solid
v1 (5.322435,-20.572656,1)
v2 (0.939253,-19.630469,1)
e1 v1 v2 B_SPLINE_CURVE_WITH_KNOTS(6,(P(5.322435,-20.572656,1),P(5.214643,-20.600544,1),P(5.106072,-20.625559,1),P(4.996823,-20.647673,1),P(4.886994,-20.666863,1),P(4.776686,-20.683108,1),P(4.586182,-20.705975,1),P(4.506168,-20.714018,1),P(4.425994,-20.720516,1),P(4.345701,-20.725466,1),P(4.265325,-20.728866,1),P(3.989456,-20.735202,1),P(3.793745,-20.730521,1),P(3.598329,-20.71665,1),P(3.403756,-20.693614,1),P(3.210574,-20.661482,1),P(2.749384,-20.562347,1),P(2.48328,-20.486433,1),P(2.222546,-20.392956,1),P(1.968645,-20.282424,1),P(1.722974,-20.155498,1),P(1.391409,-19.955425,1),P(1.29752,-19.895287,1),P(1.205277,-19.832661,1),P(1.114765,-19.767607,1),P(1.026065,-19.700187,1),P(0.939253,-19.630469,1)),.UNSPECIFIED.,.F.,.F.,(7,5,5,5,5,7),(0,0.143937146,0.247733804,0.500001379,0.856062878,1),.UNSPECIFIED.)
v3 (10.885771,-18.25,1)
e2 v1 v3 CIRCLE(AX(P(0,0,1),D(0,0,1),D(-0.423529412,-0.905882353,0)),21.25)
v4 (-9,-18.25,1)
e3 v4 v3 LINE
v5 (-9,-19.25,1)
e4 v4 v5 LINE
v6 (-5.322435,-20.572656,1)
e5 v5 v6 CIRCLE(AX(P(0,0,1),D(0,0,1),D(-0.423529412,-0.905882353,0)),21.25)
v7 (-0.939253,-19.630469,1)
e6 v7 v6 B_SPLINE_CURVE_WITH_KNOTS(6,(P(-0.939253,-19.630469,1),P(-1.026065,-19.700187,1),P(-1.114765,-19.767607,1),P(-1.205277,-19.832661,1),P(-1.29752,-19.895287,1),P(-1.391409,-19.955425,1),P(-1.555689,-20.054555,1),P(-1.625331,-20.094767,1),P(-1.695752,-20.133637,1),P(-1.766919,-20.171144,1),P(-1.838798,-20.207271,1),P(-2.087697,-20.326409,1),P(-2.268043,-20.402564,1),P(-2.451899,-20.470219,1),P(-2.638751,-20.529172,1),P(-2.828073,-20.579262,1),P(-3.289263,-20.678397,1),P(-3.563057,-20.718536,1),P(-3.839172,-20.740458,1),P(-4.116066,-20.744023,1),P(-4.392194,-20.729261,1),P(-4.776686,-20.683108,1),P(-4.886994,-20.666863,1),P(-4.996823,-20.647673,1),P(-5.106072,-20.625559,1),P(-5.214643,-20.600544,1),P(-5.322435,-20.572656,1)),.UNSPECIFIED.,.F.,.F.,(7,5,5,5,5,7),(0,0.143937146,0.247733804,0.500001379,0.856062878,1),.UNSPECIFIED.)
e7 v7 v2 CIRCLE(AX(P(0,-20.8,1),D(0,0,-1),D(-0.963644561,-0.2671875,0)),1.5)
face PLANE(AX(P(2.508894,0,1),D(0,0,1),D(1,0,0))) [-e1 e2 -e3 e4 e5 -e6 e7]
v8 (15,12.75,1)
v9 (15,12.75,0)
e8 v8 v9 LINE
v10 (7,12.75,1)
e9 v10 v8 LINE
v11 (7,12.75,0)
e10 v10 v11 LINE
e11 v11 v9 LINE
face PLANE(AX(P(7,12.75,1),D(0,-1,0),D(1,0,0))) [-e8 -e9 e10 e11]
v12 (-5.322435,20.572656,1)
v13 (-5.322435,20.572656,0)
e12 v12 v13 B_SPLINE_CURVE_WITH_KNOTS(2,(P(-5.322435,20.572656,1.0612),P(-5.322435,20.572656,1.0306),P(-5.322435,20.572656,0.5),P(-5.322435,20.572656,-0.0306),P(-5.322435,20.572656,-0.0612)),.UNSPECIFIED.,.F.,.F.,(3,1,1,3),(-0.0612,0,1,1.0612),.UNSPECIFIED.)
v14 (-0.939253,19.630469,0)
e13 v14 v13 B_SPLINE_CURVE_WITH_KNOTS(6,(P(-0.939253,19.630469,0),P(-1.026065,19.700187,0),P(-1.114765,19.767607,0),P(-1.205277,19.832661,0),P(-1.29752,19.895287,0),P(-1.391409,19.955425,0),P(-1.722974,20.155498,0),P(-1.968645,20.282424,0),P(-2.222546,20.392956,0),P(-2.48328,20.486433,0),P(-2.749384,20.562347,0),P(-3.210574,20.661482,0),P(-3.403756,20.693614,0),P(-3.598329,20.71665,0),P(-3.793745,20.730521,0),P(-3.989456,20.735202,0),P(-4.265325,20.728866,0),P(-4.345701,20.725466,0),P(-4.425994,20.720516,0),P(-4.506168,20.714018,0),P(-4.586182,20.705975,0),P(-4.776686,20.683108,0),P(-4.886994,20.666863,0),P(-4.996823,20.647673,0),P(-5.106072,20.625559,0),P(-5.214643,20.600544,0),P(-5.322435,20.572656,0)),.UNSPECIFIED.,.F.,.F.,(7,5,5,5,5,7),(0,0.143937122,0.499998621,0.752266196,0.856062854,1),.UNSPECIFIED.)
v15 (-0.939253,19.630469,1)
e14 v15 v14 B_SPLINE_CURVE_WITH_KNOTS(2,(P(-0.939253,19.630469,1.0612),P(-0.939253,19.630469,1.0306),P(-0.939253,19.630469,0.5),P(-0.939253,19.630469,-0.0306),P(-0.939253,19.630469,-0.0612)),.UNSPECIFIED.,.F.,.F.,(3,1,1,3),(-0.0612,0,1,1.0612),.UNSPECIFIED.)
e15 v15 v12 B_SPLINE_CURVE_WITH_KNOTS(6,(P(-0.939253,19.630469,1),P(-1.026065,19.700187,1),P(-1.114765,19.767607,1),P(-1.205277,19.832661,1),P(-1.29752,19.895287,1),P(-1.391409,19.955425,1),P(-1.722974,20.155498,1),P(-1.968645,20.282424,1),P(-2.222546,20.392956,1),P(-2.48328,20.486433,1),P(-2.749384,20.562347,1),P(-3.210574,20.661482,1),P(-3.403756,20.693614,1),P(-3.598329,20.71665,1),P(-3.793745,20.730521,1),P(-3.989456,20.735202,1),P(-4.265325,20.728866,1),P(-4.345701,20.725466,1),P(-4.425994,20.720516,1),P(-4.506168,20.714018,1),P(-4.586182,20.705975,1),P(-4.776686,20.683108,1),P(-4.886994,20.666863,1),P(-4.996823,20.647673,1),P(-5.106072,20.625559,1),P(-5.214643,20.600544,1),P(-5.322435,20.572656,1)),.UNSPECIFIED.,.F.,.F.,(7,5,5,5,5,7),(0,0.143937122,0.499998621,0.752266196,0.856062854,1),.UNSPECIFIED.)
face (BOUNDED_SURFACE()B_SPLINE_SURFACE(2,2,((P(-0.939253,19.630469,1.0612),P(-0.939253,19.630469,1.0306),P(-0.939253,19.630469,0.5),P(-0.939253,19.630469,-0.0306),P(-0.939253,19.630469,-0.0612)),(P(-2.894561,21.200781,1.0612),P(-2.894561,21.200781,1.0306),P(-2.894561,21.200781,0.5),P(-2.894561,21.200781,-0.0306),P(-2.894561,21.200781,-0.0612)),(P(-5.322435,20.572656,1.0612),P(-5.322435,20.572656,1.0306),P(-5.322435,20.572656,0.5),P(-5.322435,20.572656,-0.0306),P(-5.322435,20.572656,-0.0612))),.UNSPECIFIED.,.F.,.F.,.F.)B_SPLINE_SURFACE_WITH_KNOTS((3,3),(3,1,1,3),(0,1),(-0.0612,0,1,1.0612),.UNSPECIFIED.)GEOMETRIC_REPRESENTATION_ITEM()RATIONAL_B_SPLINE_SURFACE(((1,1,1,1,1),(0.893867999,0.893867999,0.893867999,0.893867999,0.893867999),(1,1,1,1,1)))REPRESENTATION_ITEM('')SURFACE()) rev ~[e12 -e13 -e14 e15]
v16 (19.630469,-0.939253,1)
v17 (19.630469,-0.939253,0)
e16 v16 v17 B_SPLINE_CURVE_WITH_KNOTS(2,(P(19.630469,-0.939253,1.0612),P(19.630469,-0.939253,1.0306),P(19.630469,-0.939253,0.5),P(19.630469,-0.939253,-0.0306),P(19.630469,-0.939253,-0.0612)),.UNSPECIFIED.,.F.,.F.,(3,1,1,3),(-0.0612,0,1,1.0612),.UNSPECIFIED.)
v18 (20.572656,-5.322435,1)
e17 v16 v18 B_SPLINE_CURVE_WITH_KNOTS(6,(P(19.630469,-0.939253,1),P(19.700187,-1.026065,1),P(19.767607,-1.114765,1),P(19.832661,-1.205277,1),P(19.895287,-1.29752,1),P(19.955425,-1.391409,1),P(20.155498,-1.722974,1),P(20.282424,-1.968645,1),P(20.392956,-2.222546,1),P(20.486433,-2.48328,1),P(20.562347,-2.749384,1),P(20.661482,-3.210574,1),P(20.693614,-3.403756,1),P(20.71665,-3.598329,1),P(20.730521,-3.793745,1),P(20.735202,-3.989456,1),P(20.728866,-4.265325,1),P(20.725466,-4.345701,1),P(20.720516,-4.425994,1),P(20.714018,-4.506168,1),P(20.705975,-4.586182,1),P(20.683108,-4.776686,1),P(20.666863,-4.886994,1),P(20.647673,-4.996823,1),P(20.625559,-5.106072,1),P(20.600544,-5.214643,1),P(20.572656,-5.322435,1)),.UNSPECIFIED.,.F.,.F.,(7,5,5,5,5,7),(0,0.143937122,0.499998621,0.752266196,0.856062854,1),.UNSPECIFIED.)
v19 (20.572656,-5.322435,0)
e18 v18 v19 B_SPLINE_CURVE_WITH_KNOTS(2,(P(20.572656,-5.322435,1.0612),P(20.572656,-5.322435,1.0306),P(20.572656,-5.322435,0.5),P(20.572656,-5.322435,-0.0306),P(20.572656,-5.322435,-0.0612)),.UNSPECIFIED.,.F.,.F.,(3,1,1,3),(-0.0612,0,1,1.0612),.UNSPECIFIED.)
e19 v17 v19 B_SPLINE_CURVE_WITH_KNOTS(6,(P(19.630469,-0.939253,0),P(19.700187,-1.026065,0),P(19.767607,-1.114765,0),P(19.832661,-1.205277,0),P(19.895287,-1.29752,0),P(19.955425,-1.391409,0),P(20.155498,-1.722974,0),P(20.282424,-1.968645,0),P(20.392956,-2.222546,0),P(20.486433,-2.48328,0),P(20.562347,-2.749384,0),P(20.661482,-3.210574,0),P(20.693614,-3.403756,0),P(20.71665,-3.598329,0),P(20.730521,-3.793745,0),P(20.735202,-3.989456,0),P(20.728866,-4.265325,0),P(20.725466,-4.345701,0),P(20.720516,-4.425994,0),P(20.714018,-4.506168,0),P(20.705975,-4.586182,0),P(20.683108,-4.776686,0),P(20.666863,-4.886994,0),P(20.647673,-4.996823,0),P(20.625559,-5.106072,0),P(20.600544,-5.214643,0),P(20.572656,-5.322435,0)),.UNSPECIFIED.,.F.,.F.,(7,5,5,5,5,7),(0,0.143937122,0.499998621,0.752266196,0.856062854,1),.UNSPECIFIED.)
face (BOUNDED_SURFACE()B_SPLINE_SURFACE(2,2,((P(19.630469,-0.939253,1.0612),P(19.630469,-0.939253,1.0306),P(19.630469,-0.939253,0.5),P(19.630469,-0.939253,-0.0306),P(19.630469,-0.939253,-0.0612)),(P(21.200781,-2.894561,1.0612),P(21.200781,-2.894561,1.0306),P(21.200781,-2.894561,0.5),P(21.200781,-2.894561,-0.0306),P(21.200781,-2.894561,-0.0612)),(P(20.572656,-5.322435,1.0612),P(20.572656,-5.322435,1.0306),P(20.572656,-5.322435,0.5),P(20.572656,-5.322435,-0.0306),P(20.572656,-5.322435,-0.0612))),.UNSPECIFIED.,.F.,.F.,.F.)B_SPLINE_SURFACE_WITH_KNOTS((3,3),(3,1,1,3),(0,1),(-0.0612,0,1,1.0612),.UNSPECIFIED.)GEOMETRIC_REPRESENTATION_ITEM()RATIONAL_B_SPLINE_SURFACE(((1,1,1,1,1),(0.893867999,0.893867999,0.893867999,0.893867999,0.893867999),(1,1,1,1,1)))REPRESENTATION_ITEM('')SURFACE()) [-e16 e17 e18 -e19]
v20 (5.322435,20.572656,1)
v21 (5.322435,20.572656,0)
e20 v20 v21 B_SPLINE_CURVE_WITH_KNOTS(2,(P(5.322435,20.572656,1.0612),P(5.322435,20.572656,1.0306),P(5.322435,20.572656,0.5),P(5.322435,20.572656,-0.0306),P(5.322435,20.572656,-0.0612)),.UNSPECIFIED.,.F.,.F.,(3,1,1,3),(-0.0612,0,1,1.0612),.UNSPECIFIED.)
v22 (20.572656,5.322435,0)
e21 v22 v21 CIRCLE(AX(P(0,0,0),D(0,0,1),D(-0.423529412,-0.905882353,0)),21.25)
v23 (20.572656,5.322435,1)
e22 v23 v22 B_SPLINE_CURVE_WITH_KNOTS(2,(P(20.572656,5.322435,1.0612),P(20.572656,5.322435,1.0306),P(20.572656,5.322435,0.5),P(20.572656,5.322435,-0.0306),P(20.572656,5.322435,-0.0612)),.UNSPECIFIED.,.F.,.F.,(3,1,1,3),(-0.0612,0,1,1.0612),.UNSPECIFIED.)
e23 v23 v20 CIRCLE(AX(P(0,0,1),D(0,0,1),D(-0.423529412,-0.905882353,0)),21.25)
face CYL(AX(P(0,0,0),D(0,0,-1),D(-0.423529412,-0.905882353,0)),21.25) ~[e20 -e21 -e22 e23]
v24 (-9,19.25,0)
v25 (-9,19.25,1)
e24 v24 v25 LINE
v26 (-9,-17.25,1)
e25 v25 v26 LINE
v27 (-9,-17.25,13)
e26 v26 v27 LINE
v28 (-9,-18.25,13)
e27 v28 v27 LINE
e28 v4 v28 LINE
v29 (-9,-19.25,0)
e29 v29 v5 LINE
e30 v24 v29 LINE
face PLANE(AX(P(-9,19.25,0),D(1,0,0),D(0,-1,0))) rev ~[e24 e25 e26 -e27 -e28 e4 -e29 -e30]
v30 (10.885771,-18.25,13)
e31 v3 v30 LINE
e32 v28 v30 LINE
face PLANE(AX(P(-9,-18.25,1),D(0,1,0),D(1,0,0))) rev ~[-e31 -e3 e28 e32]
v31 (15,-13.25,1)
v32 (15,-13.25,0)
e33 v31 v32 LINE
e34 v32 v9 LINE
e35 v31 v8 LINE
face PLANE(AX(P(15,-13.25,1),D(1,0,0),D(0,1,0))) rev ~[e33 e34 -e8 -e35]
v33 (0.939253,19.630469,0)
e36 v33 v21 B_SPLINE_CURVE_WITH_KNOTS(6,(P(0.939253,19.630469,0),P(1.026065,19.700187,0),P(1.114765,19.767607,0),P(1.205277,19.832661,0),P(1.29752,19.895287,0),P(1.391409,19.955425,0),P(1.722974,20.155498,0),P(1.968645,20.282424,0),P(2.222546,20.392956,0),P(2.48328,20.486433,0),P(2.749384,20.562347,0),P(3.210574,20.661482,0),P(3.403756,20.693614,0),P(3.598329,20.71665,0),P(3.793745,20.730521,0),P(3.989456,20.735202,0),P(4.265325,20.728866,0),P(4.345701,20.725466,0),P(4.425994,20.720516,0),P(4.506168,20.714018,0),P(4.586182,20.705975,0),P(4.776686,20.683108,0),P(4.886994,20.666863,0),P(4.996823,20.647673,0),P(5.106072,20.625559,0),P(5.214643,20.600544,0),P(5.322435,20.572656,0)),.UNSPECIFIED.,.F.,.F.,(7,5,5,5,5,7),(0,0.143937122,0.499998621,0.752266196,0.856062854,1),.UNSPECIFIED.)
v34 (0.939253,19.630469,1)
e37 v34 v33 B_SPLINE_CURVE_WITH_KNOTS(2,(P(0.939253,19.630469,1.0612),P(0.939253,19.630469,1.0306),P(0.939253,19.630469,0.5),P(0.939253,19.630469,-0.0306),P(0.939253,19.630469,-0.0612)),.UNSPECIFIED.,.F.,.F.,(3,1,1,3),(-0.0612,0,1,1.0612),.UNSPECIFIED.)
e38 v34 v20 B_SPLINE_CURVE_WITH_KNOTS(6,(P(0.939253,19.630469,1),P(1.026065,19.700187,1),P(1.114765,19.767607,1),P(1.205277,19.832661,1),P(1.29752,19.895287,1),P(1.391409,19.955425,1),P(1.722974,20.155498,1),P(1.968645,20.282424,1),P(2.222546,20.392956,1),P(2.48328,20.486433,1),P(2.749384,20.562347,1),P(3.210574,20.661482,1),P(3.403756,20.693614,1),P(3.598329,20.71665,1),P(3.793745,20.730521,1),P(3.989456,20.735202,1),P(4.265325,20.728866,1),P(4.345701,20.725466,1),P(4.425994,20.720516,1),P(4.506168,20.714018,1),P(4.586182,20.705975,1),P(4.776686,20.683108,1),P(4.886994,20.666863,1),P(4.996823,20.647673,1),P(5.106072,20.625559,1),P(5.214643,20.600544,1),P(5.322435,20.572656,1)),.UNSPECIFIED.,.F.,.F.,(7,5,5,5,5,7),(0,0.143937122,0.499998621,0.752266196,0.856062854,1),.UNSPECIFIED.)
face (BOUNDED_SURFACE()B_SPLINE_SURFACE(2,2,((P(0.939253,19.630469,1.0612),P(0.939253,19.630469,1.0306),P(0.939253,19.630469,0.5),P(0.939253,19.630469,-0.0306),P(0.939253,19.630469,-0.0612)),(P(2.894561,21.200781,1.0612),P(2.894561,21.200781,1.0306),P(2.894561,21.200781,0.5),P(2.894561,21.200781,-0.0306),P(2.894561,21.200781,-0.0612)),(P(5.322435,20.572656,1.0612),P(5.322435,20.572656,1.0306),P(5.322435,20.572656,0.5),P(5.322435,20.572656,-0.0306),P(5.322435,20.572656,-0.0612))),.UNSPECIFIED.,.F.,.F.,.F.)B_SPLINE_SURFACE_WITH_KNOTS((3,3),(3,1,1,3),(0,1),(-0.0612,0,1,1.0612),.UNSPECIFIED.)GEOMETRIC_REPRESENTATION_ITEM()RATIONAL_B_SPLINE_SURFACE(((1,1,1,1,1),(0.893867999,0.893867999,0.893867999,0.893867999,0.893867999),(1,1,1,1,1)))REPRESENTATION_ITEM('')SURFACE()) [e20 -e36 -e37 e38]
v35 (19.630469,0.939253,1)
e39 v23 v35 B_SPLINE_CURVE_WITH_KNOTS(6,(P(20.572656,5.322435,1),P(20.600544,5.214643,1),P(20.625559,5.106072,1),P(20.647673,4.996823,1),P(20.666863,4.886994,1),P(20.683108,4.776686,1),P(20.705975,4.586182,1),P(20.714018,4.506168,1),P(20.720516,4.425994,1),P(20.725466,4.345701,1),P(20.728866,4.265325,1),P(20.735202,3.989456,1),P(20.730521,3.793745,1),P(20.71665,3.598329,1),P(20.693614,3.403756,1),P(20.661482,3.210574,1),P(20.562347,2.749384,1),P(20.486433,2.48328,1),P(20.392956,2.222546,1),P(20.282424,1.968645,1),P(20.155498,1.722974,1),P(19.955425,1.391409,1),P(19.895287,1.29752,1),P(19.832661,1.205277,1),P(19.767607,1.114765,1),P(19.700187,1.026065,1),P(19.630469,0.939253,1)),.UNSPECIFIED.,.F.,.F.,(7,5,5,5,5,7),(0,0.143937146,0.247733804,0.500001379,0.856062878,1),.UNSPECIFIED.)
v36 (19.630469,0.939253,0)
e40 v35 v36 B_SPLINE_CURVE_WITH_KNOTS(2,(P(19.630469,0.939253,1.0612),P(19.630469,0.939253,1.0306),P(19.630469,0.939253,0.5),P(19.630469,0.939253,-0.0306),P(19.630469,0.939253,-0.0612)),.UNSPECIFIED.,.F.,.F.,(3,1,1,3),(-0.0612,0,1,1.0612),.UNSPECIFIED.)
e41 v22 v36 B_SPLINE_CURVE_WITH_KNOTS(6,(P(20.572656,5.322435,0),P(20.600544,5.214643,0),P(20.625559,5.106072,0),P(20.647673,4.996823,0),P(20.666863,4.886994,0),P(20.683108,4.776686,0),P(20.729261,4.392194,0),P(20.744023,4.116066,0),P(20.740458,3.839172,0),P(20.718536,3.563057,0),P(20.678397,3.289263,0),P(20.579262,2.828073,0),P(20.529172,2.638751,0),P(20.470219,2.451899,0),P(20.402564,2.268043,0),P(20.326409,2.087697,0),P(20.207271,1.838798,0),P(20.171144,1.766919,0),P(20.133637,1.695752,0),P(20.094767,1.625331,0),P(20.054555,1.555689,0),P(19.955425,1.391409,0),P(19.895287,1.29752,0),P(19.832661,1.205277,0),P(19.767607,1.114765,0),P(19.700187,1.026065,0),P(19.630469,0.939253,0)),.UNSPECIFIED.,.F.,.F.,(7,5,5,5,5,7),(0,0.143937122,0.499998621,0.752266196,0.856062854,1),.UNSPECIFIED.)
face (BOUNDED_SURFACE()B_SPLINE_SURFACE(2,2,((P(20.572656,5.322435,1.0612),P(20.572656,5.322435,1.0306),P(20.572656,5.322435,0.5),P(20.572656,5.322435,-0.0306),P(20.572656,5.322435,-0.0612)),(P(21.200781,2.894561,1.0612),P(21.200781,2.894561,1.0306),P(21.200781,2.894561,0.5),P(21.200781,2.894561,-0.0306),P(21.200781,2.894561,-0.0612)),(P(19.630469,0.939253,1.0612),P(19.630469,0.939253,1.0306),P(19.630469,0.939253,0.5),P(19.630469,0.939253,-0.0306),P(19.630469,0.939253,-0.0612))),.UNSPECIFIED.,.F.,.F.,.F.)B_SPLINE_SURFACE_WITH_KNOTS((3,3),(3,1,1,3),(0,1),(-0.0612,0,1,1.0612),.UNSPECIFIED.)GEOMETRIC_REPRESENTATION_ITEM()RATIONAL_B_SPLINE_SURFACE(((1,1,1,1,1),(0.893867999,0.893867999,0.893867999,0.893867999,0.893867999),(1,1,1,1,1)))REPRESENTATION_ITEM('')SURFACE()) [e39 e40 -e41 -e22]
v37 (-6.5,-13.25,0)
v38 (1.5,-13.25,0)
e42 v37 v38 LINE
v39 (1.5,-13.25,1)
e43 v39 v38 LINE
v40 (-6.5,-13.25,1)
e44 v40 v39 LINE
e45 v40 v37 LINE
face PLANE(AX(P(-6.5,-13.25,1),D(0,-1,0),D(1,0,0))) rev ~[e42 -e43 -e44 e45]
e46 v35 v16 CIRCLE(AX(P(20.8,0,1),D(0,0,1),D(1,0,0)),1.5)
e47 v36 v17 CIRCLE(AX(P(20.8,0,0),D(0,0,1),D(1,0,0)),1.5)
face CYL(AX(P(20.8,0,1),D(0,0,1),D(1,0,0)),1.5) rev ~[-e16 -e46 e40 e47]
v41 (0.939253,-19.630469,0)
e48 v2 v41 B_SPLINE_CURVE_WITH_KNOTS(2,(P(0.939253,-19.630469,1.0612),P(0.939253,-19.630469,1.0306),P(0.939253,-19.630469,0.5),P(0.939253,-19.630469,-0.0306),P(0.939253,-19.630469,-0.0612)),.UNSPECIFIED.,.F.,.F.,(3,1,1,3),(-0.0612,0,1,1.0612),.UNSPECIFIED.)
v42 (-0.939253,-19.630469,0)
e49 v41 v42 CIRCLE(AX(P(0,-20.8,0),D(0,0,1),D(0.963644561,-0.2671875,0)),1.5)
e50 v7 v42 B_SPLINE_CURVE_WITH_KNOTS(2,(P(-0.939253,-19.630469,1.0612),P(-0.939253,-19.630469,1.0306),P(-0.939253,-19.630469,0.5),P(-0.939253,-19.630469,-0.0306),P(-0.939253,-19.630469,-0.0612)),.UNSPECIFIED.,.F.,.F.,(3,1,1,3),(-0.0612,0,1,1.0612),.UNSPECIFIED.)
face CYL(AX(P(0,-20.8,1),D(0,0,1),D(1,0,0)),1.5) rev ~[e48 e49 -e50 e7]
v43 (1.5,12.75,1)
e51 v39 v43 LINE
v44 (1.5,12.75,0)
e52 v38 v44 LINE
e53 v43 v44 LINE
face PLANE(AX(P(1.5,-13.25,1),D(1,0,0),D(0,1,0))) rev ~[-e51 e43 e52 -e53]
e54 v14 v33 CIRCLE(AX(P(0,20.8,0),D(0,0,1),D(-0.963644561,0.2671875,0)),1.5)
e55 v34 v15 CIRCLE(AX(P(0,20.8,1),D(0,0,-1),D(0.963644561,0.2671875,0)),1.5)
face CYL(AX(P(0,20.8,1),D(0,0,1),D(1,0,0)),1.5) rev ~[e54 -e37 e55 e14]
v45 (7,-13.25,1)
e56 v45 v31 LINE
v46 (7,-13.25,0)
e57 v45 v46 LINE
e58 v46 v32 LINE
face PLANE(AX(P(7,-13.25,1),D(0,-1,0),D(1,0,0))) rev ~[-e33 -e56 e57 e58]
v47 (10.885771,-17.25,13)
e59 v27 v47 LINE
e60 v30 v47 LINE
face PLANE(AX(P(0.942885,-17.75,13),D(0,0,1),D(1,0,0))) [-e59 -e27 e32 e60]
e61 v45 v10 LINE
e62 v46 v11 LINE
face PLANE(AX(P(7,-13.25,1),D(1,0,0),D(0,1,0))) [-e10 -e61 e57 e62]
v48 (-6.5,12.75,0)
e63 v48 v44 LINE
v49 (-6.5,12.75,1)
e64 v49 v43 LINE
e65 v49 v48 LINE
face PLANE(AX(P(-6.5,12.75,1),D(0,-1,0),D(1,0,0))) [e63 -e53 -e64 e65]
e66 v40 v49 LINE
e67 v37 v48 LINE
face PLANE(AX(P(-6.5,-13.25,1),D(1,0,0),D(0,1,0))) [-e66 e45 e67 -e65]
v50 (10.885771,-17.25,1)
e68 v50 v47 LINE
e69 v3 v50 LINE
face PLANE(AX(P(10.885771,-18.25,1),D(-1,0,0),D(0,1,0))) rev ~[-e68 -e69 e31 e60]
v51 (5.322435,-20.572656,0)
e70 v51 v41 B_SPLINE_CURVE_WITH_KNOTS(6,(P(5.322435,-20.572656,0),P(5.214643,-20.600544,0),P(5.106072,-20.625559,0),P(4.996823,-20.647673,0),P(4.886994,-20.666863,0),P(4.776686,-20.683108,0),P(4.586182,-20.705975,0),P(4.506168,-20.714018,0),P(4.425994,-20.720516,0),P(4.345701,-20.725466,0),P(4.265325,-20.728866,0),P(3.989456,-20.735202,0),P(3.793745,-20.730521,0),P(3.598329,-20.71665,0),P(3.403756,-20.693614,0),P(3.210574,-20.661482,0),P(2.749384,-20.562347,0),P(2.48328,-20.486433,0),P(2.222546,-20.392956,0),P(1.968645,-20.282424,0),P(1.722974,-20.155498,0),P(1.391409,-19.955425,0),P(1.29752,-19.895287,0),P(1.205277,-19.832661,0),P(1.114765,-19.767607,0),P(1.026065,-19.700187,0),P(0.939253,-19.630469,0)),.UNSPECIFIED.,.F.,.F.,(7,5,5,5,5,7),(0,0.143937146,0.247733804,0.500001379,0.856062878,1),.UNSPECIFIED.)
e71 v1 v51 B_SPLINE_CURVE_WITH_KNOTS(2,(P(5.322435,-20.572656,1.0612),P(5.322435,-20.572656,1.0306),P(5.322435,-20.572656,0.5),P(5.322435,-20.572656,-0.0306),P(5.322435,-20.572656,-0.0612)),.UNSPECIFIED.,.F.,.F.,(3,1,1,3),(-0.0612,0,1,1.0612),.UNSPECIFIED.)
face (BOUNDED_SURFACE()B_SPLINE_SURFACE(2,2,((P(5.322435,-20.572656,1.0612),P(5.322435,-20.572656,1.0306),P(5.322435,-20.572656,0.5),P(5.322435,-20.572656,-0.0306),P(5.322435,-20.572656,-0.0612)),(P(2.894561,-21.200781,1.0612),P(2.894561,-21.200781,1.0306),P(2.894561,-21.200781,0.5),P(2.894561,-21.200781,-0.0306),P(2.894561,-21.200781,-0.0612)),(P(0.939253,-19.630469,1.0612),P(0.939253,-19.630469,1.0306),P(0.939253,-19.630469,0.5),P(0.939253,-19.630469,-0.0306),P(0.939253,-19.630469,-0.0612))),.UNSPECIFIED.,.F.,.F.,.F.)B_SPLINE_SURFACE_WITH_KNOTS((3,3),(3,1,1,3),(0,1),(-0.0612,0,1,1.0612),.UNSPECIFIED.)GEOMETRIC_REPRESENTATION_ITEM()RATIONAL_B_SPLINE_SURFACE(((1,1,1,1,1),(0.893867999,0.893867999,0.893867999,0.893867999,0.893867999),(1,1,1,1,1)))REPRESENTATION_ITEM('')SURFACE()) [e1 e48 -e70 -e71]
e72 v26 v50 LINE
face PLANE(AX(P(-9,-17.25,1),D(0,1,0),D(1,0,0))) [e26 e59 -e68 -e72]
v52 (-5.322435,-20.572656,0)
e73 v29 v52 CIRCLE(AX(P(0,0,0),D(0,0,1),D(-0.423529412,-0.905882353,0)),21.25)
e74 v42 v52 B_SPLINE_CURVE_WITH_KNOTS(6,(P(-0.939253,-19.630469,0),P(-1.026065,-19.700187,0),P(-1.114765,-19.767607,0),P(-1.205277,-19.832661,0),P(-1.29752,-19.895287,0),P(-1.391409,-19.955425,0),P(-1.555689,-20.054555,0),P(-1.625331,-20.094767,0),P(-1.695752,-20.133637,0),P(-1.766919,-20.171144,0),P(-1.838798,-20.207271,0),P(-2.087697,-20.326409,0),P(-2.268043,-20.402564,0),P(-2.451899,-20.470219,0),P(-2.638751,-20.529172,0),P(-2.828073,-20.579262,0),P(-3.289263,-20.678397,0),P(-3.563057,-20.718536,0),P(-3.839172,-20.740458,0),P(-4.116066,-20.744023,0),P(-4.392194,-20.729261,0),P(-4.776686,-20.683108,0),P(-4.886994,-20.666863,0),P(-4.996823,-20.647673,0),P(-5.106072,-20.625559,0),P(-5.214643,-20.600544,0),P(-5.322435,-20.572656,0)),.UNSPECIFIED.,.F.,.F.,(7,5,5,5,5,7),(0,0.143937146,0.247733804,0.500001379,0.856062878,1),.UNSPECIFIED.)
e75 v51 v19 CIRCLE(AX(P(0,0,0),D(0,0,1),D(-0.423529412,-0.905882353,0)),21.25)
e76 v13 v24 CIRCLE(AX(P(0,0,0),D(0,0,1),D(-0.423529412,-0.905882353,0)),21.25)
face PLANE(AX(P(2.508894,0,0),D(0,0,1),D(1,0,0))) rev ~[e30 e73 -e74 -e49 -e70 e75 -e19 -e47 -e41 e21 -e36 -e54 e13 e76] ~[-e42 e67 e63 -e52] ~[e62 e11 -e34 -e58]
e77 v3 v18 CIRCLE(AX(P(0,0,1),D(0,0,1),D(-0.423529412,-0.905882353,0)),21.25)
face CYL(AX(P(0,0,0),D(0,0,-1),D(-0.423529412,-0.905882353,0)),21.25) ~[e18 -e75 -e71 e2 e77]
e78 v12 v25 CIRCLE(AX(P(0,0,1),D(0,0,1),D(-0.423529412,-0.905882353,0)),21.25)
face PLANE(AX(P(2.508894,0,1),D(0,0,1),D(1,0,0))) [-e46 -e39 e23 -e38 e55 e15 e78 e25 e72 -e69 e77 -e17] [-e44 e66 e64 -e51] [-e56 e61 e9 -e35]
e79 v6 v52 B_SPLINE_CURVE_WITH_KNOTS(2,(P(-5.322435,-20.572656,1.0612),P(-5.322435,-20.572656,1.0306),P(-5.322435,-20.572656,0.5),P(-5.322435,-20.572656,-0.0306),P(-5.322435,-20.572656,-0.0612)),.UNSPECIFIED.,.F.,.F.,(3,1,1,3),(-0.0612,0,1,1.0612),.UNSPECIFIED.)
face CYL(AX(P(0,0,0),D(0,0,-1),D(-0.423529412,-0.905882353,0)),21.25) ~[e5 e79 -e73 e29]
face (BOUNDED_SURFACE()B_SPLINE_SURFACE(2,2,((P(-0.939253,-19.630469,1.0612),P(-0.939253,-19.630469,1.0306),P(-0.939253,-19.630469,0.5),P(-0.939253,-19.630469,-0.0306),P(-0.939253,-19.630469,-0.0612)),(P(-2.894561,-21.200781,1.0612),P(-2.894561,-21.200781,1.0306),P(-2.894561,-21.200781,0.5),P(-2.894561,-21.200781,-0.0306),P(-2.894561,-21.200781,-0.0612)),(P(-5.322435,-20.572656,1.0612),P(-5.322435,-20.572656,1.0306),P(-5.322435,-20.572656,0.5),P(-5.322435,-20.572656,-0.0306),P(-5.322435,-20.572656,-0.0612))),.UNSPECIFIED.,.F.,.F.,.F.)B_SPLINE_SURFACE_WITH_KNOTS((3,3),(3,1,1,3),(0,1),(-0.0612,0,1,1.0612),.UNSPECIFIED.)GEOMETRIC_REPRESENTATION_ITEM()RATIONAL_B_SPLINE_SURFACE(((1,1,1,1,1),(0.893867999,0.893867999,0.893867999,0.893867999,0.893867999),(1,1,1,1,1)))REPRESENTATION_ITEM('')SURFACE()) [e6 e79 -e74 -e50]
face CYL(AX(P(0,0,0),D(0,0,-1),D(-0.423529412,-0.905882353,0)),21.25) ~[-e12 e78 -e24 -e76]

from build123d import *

# Parameters (mm, degrees)
F1_DEPTH = 1
F2_W     = 19.8857705285
F2_H     = 1
F3_DEPTH = 12
F4_W     = 8
F4_H     = 26
F5_DEPTH = 1.001
F6_R     = 1.5
F7_DEPTH = 1.001
F8_R     = 5


with BuildPart() as f1:
    # F0 (on Top) → F1 (new body)
    with BuildSketch(Plane.XY):
        with BuildLine():
            Line((-9, 19.25), (-9, -19.25))
            ThreePointArc((-9, -19.25), (21.25, 0), (-9, 19.25))
        make_face()
    extrude(amount=F1_DEPTH)

    # F2 (on face) → F3 (join)
    with BuildSketch(Plane.XY.offset(1)):
        with Locations((0.9428852643, -17.75)):
            Rectangle(F2_W, F2_H)
    extrude(amount=F3_DEPTH)

    # F4 (on face) → F5 (cut, through all)
    with BuildSketch(Plane.XY.offset(1)):
        with Locations((-2.5, -0.25)):
            Rectangle(F4_W, F4_H)
        with Locations((11, -0.25)):
            Rectangle(F4_W, F4_H)
    extrude(amount=-F5_DEPTH, mode=Mode.SUBTRACT)

    # F6 (on face) → F7 (cut, through all)
    with BuildSketch(Plane.XY.offset(1)):
        with Locations((0, -20.8)):
            Circle(F6_R)
        with Locations((20.8, 0)):
            Circle(F6_R)
        with Locations((0, 20.8)):
            Circle(F6_R)
        with Locations((-20.8, 0)):
            Circle(F6_R)
    extrude(amount=-F7_DEPTH, mode=Mode.SUBTRACT)

    # F8
    f8_edges = [f1.edges().sort_by_distance(p)[0] for p in [
        (1.445467, -21.200781, 0.5),
        (-1.445467, -21.200781, 0.5),
        (21.200781, 1.445467, 0.5),
        (21.200781, -1.445467, 0.5),
        (1.445467, 21.200781, 0.5),
        (-1.445467, 21.200781, 0.5),
    ]]
    fillet(f8_edges, radius=F8_R)


solid = f1.part
